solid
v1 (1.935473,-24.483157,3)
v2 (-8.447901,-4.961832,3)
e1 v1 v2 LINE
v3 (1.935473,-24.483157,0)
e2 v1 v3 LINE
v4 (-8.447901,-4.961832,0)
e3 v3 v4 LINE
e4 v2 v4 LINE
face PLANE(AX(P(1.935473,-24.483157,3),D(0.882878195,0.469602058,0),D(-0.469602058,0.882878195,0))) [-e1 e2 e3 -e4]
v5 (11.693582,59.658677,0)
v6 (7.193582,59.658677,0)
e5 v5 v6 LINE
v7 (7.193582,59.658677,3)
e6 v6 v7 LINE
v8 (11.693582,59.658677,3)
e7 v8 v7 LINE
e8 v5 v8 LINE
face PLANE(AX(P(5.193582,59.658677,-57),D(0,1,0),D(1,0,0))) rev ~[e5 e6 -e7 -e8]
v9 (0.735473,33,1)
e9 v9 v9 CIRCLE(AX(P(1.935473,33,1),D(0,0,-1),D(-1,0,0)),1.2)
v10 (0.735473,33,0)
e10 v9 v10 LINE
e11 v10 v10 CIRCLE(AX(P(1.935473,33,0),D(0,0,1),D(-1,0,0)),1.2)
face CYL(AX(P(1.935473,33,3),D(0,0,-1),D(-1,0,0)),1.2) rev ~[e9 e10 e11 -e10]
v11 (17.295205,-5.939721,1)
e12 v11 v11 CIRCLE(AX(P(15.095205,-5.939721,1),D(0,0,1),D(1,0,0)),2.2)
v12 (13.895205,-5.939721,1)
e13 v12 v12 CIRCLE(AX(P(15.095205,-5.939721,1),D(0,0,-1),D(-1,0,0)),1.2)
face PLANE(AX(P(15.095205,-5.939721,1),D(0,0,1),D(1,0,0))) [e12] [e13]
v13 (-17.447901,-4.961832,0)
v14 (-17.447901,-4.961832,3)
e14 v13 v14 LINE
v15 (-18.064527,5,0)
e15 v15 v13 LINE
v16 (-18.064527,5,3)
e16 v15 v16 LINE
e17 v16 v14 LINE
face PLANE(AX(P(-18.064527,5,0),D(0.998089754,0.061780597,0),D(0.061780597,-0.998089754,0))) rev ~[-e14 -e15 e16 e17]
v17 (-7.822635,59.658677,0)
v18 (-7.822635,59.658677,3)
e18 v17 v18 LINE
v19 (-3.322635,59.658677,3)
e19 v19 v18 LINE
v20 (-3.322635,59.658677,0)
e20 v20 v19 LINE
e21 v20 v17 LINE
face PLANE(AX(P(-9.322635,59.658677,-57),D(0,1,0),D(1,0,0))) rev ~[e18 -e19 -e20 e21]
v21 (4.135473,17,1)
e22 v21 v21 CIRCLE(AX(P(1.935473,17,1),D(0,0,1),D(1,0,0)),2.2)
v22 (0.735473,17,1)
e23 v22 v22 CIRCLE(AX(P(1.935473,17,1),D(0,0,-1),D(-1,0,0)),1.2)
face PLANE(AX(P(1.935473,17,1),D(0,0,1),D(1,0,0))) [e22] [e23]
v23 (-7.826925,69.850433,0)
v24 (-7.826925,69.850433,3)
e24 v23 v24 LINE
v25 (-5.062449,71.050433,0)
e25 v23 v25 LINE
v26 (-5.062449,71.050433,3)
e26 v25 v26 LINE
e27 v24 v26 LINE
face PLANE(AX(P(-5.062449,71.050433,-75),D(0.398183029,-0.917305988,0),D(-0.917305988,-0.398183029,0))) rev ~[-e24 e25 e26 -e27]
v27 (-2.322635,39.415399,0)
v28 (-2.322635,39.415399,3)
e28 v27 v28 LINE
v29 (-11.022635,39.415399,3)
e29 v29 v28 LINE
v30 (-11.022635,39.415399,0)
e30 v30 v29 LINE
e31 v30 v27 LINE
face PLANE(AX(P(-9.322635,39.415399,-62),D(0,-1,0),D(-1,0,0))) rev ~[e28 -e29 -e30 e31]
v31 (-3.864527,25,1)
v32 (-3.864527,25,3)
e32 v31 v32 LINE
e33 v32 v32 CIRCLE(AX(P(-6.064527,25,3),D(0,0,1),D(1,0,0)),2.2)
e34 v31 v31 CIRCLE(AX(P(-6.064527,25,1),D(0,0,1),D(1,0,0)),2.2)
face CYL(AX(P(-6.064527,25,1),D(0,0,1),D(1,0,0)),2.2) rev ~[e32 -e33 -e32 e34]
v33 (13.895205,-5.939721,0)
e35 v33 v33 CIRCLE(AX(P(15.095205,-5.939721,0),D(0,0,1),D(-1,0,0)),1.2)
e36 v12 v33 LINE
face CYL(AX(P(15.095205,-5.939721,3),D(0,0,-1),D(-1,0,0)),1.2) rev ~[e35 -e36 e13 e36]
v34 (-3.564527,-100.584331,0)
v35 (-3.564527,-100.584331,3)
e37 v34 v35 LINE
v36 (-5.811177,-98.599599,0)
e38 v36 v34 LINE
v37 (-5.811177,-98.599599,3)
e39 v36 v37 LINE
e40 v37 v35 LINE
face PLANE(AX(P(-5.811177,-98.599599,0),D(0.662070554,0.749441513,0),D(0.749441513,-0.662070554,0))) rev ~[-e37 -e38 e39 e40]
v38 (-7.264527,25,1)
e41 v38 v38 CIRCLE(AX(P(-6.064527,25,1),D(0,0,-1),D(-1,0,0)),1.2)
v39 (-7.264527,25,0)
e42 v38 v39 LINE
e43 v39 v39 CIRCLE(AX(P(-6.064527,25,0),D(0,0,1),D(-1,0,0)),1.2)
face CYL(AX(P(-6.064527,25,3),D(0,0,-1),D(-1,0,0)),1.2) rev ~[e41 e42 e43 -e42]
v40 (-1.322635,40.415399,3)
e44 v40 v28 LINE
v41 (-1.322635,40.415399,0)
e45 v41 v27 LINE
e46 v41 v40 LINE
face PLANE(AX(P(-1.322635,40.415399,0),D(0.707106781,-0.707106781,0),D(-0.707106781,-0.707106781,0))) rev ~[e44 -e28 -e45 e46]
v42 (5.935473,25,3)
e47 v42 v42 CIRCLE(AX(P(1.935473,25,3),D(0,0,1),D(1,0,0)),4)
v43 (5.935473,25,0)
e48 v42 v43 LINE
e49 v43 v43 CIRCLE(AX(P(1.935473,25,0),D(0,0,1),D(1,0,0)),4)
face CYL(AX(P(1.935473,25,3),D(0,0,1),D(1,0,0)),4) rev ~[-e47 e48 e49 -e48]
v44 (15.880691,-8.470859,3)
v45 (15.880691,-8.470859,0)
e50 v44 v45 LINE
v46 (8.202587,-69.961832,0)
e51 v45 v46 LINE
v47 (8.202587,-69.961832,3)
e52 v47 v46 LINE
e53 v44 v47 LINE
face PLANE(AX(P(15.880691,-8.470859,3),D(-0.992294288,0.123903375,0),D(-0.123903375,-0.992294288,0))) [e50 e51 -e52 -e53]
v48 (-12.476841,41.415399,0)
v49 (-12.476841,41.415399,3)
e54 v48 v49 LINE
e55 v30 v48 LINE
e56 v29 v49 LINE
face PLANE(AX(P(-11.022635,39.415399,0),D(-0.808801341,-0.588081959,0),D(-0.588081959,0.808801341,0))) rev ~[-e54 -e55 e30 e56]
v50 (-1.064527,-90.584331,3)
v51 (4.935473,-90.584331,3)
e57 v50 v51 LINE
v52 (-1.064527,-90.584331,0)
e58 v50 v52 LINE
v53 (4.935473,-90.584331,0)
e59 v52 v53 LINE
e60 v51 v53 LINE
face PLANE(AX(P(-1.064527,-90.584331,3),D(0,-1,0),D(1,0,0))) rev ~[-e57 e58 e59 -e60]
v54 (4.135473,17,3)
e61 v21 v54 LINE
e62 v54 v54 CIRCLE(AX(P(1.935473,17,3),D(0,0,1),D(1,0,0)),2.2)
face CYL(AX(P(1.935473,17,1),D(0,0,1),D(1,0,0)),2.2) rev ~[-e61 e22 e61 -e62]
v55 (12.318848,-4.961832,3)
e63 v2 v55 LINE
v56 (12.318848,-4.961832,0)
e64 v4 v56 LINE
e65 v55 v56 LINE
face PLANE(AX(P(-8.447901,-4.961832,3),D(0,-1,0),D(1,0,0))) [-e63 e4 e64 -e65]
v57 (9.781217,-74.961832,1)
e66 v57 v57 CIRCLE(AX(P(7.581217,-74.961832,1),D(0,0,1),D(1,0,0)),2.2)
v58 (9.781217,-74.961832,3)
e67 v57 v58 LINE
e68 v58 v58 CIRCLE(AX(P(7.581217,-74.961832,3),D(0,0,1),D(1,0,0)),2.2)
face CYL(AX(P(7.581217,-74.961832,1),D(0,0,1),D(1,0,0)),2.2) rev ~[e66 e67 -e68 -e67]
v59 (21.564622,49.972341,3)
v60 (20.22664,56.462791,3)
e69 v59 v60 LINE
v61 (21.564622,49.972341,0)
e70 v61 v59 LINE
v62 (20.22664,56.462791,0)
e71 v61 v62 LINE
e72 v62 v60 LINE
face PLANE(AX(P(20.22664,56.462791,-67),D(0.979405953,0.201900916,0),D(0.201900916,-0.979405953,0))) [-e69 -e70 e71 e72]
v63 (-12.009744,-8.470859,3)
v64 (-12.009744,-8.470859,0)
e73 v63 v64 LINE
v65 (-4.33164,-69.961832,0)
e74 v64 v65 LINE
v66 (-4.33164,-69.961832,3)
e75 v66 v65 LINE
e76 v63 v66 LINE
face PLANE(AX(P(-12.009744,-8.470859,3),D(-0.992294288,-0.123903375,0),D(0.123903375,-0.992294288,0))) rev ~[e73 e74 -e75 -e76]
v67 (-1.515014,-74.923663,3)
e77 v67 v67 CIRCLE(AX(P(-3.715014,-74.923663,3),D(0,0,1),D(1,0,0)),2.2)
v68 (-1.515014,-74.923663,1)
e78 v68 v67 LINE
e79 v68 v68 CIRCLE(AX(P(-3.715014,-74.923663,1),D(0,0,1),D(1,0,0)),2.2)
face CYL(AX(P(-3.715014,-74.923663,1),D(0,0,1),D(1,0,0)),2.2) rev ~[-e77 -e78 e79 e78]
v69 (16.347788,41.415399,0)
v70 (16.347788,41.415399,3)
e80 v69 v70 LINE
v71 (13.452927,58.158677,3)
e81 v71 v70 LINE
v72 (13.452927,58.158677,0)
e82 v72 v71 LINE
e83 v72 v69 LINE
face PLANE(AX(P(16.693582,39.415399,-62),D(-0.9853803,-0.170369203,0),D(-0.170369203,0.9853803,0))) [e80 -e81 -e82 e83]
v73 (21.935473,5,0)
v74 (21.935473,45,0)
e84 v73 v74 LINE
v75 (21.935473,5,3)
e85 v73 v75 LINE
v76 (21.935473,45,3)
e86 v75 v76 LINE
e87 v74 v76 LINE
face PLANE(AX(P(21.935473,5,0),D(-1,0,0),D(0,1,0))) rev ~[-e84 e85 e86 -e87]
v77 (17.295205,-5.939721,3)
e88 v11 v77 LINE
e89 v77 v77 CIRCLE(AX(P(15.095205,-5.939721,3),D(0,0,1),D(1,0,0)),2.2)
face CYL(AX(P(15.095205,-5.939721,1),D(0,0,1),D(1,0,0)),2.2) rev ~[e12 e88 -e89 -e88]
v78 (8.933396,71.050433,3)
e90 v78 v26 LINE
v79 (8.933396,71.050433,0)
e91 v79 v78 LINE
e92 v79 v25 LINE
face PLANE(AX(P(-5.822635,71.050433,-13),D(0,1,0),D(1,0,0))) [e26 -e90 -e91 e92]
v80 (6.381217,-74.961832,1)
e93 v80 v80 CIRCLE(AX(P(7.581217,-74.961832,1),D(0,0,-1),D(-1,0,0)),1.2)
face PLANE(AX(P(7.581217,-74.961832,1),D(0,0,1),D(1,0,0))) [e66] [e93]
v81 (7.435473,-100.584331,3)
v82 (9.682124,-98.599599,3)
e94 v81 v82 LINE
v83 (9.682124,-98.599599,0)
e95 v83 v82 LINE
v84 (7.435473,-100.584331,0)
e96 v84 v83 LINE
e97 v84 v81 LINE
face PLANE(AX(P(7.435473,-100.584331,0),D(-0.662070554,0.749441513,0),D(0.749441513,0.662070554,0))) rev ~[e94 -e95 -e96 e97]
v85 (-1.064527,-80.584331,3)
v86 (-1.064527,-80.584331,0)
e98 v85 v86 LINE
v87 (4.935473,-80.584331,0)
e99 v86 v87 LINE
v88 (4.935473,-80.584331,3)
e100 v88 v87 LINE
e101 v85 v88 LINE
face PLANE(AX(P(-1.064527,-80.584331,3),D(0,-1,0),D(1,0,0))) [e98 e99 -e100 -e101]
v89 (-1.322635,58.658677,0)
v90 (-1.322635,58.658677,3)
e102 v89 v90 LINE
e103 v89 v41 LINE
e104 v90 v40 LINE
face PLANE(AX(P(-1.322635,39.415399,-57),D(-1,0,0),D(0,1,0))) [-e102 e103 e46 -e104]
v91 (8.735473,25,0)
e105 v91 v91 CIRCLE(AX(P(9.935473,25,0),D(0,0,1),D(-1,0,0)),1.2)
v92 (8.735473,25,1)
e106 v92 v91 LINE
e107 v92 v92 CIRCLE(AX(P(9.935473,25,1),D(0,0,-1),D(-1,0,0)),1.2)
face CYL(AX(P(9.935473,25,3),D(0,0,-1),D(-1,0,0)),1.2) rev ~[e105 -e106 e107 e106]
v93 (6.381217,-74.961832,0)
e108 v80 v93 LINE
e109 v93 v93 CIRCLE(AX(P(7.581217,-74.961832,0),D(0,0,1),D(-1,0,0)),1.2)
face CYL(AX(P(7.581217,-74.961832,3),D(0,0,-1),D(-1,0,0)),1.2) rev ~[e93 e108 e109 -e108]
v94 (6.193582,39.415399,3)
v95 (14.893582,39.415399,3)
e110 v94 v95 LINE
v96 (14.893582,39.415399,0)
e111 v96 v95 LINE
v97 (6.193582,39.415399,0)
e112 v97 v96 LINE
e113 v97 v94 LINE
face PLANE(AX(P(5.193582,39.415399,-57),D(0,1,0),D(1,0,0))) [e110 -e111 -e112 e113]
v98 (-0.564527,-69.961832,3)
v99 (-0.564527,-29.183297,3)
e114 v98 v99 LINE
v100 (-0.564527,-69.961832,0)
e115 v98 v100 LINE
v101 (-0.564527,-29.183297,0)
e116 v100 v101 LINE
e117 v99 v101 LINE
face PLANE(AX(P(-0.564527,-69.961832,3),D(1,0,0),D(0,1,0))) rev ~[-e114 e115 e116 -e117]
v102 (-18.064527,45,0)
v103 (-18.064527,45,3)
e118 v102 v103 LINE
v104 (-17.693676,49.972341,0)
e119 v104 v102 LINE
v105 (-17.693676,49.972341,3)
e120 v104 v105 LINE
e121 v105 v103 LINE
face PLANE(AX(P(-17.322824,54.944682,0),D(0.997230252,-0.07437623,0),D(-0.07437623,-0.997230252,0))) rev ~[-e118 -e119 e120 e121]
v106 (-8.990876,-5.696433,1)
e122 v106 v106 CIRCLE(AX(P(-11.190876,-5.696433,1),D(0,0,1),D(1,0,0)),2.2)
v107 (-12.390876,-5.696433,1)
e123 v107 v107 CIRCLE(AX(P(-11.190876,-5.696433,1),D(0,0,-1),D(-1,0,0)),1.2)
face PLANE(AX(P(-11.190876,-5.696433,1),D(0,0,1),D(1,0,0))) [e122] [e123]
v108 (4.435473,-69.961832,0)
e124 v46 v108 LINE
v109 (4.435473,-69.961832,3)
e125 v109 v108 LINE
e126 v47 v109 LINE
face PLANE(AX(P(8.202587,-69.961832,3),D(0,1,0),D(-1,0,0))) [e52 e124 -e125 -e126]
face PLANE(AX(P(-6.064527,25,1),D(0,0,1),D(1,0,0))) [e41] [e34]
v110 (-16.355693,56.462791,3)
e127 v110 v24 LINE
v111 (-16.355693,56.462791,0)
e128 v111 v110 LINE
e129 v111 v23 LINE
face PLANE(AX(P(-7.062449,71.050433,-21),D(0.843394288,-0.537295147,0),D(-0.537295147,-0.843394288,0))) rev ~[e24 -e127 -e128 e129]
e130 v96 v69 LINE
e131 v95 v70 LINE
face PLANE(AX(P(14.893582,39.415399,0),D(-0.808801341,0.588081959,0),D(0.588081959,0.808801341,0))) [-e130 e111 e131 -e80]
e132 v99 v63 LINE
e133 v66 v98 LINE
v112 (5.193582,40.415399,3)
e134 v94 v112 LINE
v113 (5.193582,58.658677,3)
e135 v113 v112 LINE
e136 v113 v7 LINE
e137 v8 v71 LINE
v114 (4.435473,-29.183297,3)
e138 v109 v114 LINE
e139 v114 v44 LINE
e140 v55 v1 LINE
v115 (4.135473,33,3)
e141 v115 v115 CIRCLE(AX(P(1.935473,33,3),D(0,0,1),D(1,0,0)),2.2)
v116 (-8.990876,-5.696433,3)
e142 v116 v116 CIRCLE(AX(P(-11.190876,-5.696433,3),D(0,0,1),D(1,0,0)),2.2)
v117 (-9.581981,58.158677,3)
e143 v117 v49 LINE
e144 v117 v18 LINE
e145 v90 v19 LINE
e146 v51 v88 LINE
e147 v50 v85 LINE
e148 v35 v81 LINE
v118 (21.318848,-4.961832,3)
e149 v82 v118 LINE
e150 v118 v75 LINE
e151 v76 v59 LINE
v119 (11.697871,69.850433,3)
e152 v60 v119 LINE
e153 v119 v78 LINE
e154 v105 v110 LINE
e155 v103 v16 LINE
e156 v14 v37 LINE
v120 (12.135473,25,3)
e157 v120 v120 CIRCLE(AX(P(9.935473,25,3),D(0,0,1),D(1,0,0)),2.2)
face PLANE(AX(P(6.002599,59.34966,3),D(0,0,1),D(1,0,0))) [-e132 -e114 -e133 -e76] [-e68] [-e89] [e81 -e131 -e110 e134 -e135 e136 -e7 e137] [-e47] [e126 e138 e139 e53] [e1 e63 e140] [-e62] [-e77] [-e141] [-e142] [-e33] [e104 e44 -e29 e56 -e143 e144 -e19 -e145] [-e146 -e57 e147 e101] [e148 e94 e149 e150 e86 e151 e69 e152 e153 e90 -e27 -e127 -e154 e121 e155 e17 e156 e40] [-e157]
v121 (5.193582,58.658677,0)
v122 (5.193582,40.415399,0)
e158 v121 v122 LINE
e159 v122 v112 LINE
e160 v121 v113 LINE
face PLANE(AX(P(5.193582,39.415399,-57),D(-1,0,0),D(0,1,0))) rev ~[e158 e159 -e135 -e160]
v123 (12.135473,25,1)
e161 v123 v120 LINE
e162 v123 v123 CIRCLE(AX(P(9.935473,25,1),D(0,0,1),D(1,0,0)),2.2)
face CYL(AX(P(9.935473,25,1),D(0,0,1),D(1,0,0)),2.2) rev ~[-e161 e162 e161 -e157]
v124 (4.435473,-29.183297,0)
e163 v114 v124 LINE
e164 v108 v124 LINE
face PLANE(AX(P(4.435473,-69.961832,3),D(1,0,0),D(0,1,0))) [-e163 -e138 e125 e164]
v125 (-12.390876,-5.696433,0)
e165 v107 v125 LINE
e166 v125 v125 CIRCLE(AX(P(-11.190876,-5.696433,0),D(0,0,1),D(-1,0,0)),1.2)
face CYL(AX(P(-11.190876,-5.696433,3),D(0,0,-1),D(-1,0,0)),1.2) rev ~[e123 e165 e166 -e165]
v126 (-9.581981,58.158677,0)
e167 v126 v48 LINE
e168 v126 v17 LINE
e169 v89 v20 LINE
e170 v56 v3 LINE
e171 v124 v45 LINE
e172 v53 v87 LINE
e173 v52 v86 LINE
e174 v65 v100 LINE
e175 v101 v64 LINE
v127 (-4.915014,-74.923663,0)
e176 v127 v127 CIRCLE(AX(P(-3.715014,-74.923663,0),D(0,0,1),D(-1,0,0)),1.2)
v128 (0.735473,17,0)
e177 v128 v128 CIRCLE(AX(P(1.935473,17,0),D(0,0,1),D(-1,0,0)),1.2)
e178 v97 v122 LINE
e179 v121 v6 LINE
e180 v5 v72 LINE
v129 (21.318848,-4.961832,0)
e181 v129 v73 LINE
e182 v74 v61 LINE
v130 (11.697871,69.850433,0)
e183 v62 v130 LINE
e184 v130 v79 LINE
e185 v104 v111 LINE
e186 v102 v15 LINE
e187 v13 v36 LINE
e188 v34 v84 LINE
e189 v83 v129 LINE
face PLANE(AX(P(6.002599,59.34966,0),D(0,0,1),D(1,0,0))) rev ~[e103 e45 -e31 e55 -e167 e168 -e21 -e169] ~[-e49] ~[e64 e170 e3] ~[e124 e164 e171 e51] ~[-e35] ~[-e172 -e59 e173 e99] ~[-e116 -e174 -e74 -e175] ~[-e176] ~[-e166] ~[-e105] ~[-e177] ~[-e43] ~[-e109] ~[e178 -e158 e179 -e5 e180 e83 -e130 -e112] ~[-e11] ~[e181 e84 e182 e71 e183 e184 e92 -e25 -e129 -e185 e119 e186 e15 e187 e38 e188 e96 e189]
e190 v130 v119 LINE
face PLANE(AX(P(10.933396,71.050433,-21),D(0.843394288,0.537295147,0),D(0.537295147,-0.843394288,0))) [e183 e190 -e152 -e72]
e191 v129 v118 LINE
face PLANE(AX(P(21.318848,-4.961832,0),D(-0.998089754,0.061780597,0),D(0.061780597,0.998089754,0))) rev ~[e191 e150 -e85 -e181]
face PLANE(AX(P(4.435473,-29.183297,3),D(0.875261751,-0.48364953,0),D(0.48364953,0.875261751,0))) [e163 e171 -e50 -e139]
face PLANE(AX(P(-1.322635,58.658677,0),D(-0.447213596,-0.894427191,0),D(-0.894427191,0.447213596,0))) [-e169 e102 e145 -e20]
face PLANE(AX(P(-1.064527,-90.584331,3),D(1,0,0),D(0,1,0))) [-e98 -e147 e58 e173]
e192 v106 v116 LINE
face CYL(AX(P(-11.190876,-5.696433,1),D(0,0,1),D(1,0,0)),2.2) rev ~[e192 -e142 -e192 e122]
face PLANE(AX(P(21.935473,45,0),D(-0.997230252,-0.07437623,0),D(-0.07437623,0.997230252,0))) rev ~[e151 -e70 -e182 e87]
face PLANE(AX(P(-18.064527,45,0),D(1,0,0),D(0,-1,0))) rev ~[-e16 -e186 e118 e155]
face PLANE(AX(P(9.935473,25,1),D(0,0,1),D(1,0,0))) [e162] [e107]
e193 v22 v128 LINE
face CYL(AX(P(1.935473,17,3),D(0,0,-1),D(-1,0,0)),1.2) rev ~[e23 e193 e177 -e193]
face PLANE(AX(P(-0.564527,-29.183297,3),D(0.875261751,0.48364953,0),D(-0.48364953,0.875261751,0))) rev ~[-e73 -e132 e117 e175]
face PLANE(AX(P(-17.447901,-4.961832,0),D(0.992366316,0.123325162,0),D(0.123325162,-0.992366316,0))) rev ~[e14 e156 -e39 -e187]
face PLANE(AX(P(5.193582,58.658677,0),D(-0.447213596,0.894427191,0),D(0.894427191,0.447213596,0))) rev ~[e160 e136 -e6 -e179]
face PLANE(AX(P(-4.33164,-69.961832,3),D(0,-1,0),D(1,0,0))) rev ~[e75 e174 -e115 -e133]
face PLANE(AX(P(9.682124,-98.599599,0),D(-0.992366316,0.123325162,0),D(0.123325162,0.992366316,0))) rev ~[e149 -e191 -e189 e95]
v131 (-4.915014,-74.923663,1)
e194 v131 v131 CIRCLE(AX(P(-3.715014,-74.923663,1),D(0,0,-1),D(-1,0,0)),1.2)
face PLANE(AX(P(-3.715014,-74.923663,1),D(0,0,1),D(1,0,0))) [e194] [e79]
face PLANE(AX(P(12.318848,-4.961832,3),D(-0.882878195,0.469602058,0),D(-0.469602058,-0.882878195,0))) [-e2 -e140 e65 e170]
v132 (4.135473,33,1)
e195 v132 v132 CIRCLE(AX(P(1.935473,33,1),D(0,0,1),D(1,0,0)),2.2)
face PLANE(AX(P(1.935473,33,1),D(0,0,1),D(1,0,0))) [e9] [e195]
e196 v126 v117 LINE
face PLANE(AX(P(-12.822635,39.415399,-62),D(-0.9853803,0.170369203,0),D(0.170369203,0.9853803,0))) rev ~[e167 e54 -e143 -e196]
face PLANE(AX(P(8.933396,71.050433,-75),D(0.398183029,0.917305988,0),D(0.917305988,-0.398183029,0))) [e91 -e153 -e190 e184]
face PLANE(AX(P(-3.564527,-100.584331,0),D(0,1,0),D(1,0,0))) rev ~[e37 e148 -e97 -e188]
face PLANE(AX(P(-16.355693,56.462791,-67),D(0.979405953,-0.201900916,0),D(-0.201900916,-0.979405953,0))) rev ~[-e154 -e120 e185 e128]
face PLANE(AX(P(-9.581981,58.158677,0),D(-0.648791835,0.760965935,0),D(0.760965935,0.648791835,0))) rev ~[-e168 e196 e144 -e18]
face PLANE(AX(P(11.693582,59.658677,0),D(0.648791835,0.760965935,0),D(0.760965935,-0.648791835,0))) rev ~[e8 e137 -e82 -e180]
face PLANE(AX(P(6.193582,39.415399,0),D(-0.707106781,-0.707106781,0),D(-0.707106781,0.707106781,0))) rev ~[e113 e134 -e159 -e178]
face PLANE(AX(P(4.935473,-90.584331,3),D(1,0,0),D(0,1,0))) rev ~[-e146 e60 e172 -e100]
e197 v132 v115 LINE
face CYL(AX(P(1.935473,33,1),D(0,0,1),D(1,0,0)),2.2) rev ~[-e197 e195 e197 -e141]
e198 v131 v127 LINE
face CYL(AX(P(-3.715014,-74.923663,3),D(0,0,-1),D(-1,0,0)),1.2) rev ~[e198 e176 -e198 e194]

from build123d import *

# Parameters (mm, degrees)
BOSS_EXTRUDE1_DEPTH            = 3
SKETCH3_R                      = 4
CUT_EXTRUDE1_DEPTH             = 3
CBORE_FOR_M2_SHCS1_D           = 2.4
CBORE_FOR_M2_SHCS1_DEPTH       = 3
CBORE_FOR_M2_SHCS1_CBORE_D     = 4.4
CBORE_FOR_M2_SHCS1_CBORE_DEPTH = 2
CBORE_FOR_M2_SHCS1_TIP         = 0.721032743
CUT_EXTRUDE2_DEPTH             = 3
SKETCH7_W                      = 6
SKETCH7_H                      = 10
CUT_EXTRUDE3_DEPTH             = 3
CUT_EXTRUDE4_DEPTH             = 3
CBORE_FOR_M2_SHCS2_D           = 2.4
CBORE_FOR_M2_SHCS2_DEPTH       = 3
CBORE_FOR_M2_SHCS2_CBORE_D     = 4.4
CBORE_FOR_M2_SHCS2_CBORE_DEPTH = 2
CBORE_FOR_M2_SHCS2_TIP         = 0.721032743
SALIENTE_EXTRUIR2_DEPTH        = 3
CORTAR_EXTRUIR2_DEPTH          = 25
CORTAR_EXTRUIR3_DEPTH          = 8
CORTAR_EXTRUIR3_DEPTH_BACK     = 1
SALIENTE_EXTRUIR3_DEPTH        = 3
CORTAR_EXTRUIR4_DEPTH          = 32
CORTAR_EXTRUIR4_DEPTH_BACK     = 3
CORTAR_EXTRUIR5_DEPTH          = 33
CORTAR_EXTRUIR5_DEPTH_BACK     = 16
CORTAR_EXTRUIR6_DEPTH          = 36
CORTAR_EXTRUIR6_DEPTH_BACK     = 57
CROQUIS10_W                    = 8
CROQUIS10_H                    = 20.24327749
CROQUIS11_W                    = 22.516217108
CROQUIS11_H                    = 6.585791746
SALIENTE_EXTRUIR4_DEPTH        = 3
CORTAR_EXTRUIR7_DEPTH          = 12
CORTAR_EXTRUIR7_DEPTH_BACK     = 26
CORTAR_EXTRUIR8_DEPTH          = 37
CORTAR_EXTRUIR8_DEPTH_BACK     = 23
CORTAR_EXTRUIR10_DEPTH         = 10
CORTAR_EXTRUIR10_DEPTH_BACK    = 13
CROQUIS14_W                    = 22.056135014
CROQUIS14_H                    = 3.895510455
CORTAR_EXTRUIR11_DEPTH         = 15
CORTAR_EXTRUIR11_DEPTH_BACK    = 12
CROQUIS15_W                    = 4.816352665
CROQUIS15_H                    = 5.664480242
CORTAR_EXTRUIR12_DEPTH         = 33
CORTAR_EXTRUIR12_DEPTH_BACK    = 21
CORTAR_EXTRUIR18_DEPTH         = 52
CORTAR_EXTRUIR18_DEPTH_BACK    = 75
CORTAR_EXTRUIR19_DEPTH         = 24
CORTAR_EXTRUIR19_DEPTH_BACK    = 67
CORTAR_EXTRUIR20_DEPTH         = 39
CORTAR_EXTRUIR20_DEPTH_BACK    = 62
SALIENTE_EXTRUIR7_DEPTH        = 3
SALIENTE_EXTRUIR9_DEPTH        = 3
SALIENTE_EXTRUIR10_DEPTH       = 3


with BuildPart() as part:
    # Sketch2 → Boss-Extrude1 (new body)
    with BuildSketch(Plane.XY):
        Polygon((-5.811176978, -98.599598559), (-3.564526654, -100.58433119), (7.435473346, -100.58433119), (9.68212367, -98.599598559), (21.318847535, -4.961831578), (21.935473346, 5), (21.935473346, 45), (21.193771081, 54.944681764), (15.17717561, 95.055318236), (9.435473346, 100), (-5.564526654, 100), (-11.306228919, 95.055318236), (-17.32282439, 54.944681764), (-18.064526654, 45), (-18.064526654, 5), (-17.447900844, -4.961831578), align=None)
    extrude(amount=BOSS_EXTRUDE1_DEPTH)

    # Sketch3 → Cut-Extrude1 (cut)
    with BuildSketch(Plane.XY.offset(3)):
        with Locations((1.935473346, 25)):
            Circle(SKETCH3_R)
    extrude(amount=-CUT_EXTRUDE1_DEPTH, mode=Mode.SUBTRACT)

    # CBORE for M2 SHCS1
    with Locations(Plane.XY.offset(3)):
        with Locations((1.935473346, 33), (9.935473346, 25), (1.935473346, 17), (-6.064526654, 25)):
            CounterBoreHole(CBORE_FOR_M2_SHCS1_D / 2, CBORE_FOR_M2_SHCS1_CBORE_D / 2, CBORE_FOR_M2_SHCS1_CBORE_DEPTH, depth=CBORE_FOR_M2_SHCS1_DEPTH)
            with Locations((0, 0, -(CBORE_FOR_M2_SHCS1_DEPTH + CBORE_FOR_M2_SHCS1_TIP / 2))):  # 118° drill point
                Cone(0, CBORE_FOR_M2_SHCS1_D / 2, CBORE_FOR_M2_SHCS1_TIP, mode=Mode.SUBTRACT)

    # Sketch6 → Cut-Extrude2 (cut)
    with BuildSketch(Plane.XY.offset(3)):
        Polygon((-10.32282439, 54.944681764), (-2.592495206, 54.944681764), (-0.592495206, 56.944681764), (-0.592495206, 77.986977382), (-2.570367912, 80.283658288), (-6.413140682, 80.860074204), (-8.687694294, 79.178882404), (-12.026143484, 56.92255447), align=None)
        Polygon((15.841153071, 56.92255447), (12.502703881, 79.178882404), (10.22815027, 80.860074204), (6.385377499, 80.283658288), (4.407504794, 77.986977382), (4.407504794, 56.944681764), (6.407504794, 54.944681764), (14.137833977, 54.944681764), align=None)
        Polygon((-4.417484259, 94.313615971), (8.232493846, 94.313615971), (10.529174752, 92.335743265), (11.167639805, 88.07930958), (9.486448005, 85.804755968), (1.907504794, 84.667914487), (-5.671438417, 85.804755968), (-7.352630217, 88.07930958), (-6.714165164, 92.335743265), align=None)
    extrude(amount=-CUT_EXTRUDE2_DEPTH, mode=Mode.SUBTRACT)

    # Sketch7 → Cut-Extrude3 (cut)
    with BuildSketch(Plane.XY.offset(3)):
        with Locations((1.935473346, -85.58433119)):
            Rectangle(SKETCH7_W, SKETCH7_H)
    extrude(amount=-CUT_EXTRUDE3_DEPTH, mode=Mode.SUBTRACT)

    # Sketch8 → Cut-Extrude4 (cut)
    with BuildSketch(Plane.XY.offset(3)):
        Polygon((-8.447900844, -4.961831578), (12.318847535, -4.961831578), (1.935473346, -24.483157151), align=None)
        Polygon((15.880690917, -8.470858754), (8.202586605, -69.961831578), (4.435473346, -69.961831578), (4.435473346, -29.183297302), align=None)
        Polygon((-12.009744226, -8.470858754), (-4.331639914, -69.961831578), (-0.564526654, -69.961831578), (-0.564526654, -29.183297302), align=None)
    extrude(amount=-CUT_EXTRUDE4_DEPTH, mode=Mode.SUBTRACT)

    # CBORE for M2 SHCS2
    with Locations(Plane.XY.offset(3)):
        with Locations((-3.715014103, -74.923663156), (7.581217459, -74.961831578), (-11.190875883, -5.696432584), (15.095204577, -5.939721308), (1.907504794, 81.167914487)):
            CounterBoreHole(CBORE_FOR_M2_SHCS2_D / 2, CBORE_FOR_M2_SHCS2_CBORE_D / 2, CBORE_FOR_M2_SHCS2_CBORE_DEPTH, depth=CBORE_FOR_M2_SHCS2_DEPTH)
            with Locations((0, 0, -(CBORE_FOR_M2_SHCS2_DEPTH + CBORE_FOR_M2_SHCS2_TIP / 2))):  # 118° drill point
                Cone(0, CBORE_FOR_M2_SHCS2_D / 2, CBORE_FOR_M2_SHCS2_TIP, mode=Mode.SUBTRACT)

    # Croquis2 → Saliente-Extruir2 (add)
    with BuildSketch(Plane.XY):
        Polygon((18.794620774, 54.944681764), (-14.944396603, 54.944681764), (-7.478946257, 96.267482636), (12.143583194, 96.267482636), align=None)
    extrude(amount=SALIENTE_EXTRUIR2_DEPTH)

    # Croquis3 → Cortar-Extruir2 (cut)
    with BuildSketch(Plane.XY):
        Polygon((3.935473346, 75), (15.193771081, 54.944681764), (9.17717561, 95.055318236), (3.935473346, 95.055318236), align=None)
        Polygon((-5.306228919, 95.055318236), (-11.32282439, 54.944681764), (-0.064526654, 75), (-0.064526654, 95.055318236), align=None)
        Polygon((1.935473346, 67.392726007), (10.193771081, 54.944681764), (-6.32282439, 54.944681764), align=None)
    extrude(amount=CORTAR_EXTRUIR2_DEPTH, mode=Mode.SUBTRACT)

    # Croquis4 → Cortar-Extruir3 (cut, two sides: drawn at the far end of the back side and taken through both)
    with BuildSketch(Plane.XY.offset(-CORTAR_EXTRUIR3_DEPTH_BACK)):
        Polygon((-16.681169013, 74.945942972), (0, 74.945942972), (20.337076697, 74.945942972), (20.337076697, 106.026068233), (-16.681169013, 106.026068233), align=None)
    extrude(amount=CORTAR_EXTRUIR3_DEPTH + CORTAR_EXTRUIR3_DEPTH_BACK, mode=Mode.SUBTRACT)

    # Croquis5 → Saliente-Extruir3 (add)
    with BuildSketch(Plane.XY):
        Polygon((-14.322635208, 74.945942972), (18.1935819, 74.945942972), (18.1935819, 53.950721804), (-16.161111671, 53.950721804), align=None)
    extrude(amount=SALIENTE_EXTRUIR3_DEPTH)

    # Croquis8 → Cortar-Extruir4 (cut, two sides: drawn at the far end of the back side and taken through both)
    with BuildSketch(Plane.XY.offset(-CORTAR_EXTRUIR4_DEPTH_BACK)):
        Polygon((-14.322635208, 74.945942972), (-15.372635208, 67.945942972), (-9.322635208, 74.945942972), align=None)
        Polygon((18.1935819, 74.945942972), (13.1935819, 74.945942972), (19.2435819, 67.945942972), align=None)
    extrude(amount=CORTAR_EXTRUIR4_DEPTH + CORTAR_EXTRUIR4_DEPTH_BACK, mode=Mode.SUBTRACT)

    # Croquis9 → Cortar-Extruir5 (cut, two sides: drawn at the far end of the back side and taken through both)
    with BuildSketch(Plane.XY.offset(-CORTAR_EXTRUIR5_DEPTH_BACK)):
        Polygon((-9.322635208, 67.945942972), (-9.322635208, 70.912384295), (13.1935819, 70.912384295), (13.1935819, 67.945942972), (13.1935819, 64.326592549), (-9.322635208, 64.326592549), align=None)
    extrude(amount=CORTAR_EXTRUIR5_DEPTH + CORTAR_EXTRUIR5_DEPTH_BACK, mode=Mode.SUBTRACT)

    # Croquis10 → Cortar-Extruir6 (cut, two sides: drawn at the far end of the back side and taken through both)
    with BuildSketch(Plane.XY.offset(-CORTAR_EXTRUIR6_DEPTH_BACK)):
        with Locations((-5.322635208, 49.537038019)):
            Rectangle(CROQUIS10_W, CROQUIS10_H)
        with Locations((9.1935819, 49.537038019)):
            Rectangle(CROQUIS10_W, CROQUIS10_H)
    extrude(amount=CORTAR_EXTRUIR6_DEPTH + CORTAR_EXTRUIR6_DEPTH_BACK, mode=Mode.SUBTRACT)

    # Croquis11 → Saliente-Extruir4 (add)
    with BuildSketch(Plane.XY):
        with Locations((1.935473346, 67.619488422)):
            Rectangle(CROQUIS11_W, CROQUIS11_H)
    extrude(amount=SALIENTE_EXTRUIR4_DEPTH)

    # Croquis12 → Cortar-Extruir7 (cut, two sides: drawn at the far end of the back side and taken through both)
    with BuildSketch(Plane.XY.offset(-CORTAR_EXTRUIR7_DEPTH_BACK)):
        Polygon((-15.372635208, 67.945942972), (-9.322635208, 74.945942972), (-5.822635208, 74.945942972), (-17.32282439, 54.944681764), align=None)
    extrude(amount=CORTAR_EXTRUIR7_DEPTH + CORTAR_EXTRUIR7_DEPTH_BACK, mode=Mode.SUBTRACT)

    # Croquis13 → Cortar-Extruir8 (cut, two sides: drawn at the far end of the back side and taken through both)
    with BuildSketch(Plane.XY.offset(-CORTAR_EXTRUIR8_DEPTH_BACK)):
        Polygon((13.1935819, 74.945942972), (9.6935819, 74.945942972), (21.193771081, 54.944681764), (19.2435819, 67.945942972), align=None)
    extrude(amount=CORTAR_EXTRUIR8_DEPTH + CORTAR_EXTRUIR8_DEPTH_BACK, mode=Mode.SUBTRACT)

    # Croquis14 → Cortar-Extruir10 (cut, two sides: drawn at the far end of the back side and taken through both)
    with BuildSketch(Plane.XY.offset(-CORTAR_EXTRUIR10_DEPTH_BACK)):
        with Locations((5.205432299, 72.998187745)):
            Rectangle(CROQUIS14_W, CROQUIS14_H)
    extrude(amount=CORTAR_EXTRUIR10_DEPTH + CORTAR_EXTRUIR10_DEPTH_BACK, mode=Mode.SUBTRACT)

    # Croquis15 → Cortar-Extruir11 (cut, two sides: drawn at the far end of the back side and taken through both)
    with BuildSketch(Plane.XY.offset(-CORTAR_EXTRUIR11_DEPTH_BACK)):
        with Locations((-8.230811541, 73.882672638)):
            Rectangle(CROQUIS15_W, CROQUIS15_H)
    extrude(amount=CORTAR_EXTRUIR11_DEPTH + CORTAR_EXTRUIR11_DEPTH_BACK, mode=Mode.SUBTRACT)

    # Croquis16 → Cortar-Extruir12 (cut, two sides: drawn at the far end of the back side and taken through both)
    with BuildSketch(Plane.XY.offset(-CORTAR_EXTRUIR12_DEPTH_BACK)):
        Polygon((-8.062449324, 71.050432517), (-7.062449324, 71.050432517), (-17.32282439, 54.944681764), align=None)
        Polygon((11.933396016, 71.050432517), (10.933396016, 71.050432517), (21.193771081, 54.944681764), align=None)
    extrude(amount=CORTAR_EXTRUIR12_DEPTH + CORTAR_EXTRUIR12_DEPTH_BACK, mode=Mode.SUBTRACT)

    # Croquis18 → Cortar-Extruir18 (cut, two sides: drawn at the far end of the back side and taken through both)
    with BuildSketch(Plane.XY.offset(-CORTAR_EXTRUIR18_DEPTH_BACK)):
        Polygon((-7.062449324, 71.050432517), (-5.062449324, 71.050432517), (-7.826924714, 69.850432517), align=None)
        Polygon((10.933396016, 71.050432517), (8.933396016, 71.050432517), (11.697871405, 69.850432517), align=None)
    extrude(amount=CORTAR_EXTRUIR18_DEPTH + CORTAR_EXTRUIR18_DEPTH_BACK, mode=Mode.SUBTRACT)

    # Croquis20 → Cortar-Extruir19 (cut, two sides: drawn at the far end of the back side and taken through both)
    with BuildSketch(Plane.XY.offset(-CORTAR_EXTRUIR19_DEPTH_BACK)):
        Polygon((21.193771081, 54.944681764), (20.226639816, 56.462791483), (21.564622213, 49.972340882), align=None)
        Polygon((-17.32282439, 54.944681764), (-16.355693125, 56.462791483), (-17.693675522, 49.972340882), align=None)
    extrude(amount=CORTAR_EXTRUIR19_DEPTH + CORTAR_EXTRUIR19_DEPTH_BACK, mode=Mode.SUBTRACT)

    # Croquis21 → Cortar-Extruir20 (cut, two sides: drawn at the far end of the back side and taken through both)
    with BuildSketch(Plane.XY.offset(-CORTAR_EXTRUIR20_DEPTH_BACK)):
        Polygon((-9.322635208, 39.415399274), (-12.822635208, 39.415399274), (-9.322635208, 59.658676764), align=None)
        Polygon((13.1935819, 39.415399274), (16.6935819, 39.415399274), (13.1935819, 59.658676764), align=None)
    extrude(amount=CORTAR_EXTRUIR20_DEPTH + CORTAR_EXTRUIR20_DEPTH_BACK, mode=Mode.SUBTRACT)

    # Croquis23 → Saliente-Extruir7 (add)
    with BuildSketch(Plane.XY):
        Polygon((-9.322635208, 59.658676764), (-9.581980564, 58.158676764), (-7.822635208, 59.658676764), align=None)
        Polygon((13.1935819, 59.658676764), (11.6935819, 59.658676764), (13.452927256, 58.158676764), align=None)
    extrude(amount=SALIENTE_EXTRUIR7_DEPTH)

    # Croquis24 → Saliente-Extruir9 (add)
    with BuildSketch(Plane.XY):
        Polygon((-12.822635208, 39.415399274), (-11.022635208, 39.415399274), (-12.476841401, 41.415399274), align=None)
        Polygon((-1.322635208, 39.415399274), (-1.322635208, 40.415399274), (-2.322635208, 39.415399274), align=None)
        Polygon((5.1935819, 39.415399274), (6.1935819, 39.415399274), (5.1935819, 40.415399274), align=None)
        Polygon((14.8935819, 39.415399274), (16.347788092, 41.415399274), (16.6935819, 39.415399274), align=None)
    extrude(amount=SALIENTE_EXTRUIR9_DEPTH)

    # Croquis25 → Saliente-Extruir10 (add)
    with BuildSketch(Plane.XY):
        Polygon((5.1935819, 59.658676764), (5.1935819, 58.658676764), (7.1935819, 59.658676764), align=None)
        Polygon((-1.322635208, 58.658676764), (-3.322635208, 59.658676764), (-1.322635208, 59.658676764), align=None)
    extrude(amount=SALIENTE_EXTRUIR10_DEPTH)


solid = part.part
